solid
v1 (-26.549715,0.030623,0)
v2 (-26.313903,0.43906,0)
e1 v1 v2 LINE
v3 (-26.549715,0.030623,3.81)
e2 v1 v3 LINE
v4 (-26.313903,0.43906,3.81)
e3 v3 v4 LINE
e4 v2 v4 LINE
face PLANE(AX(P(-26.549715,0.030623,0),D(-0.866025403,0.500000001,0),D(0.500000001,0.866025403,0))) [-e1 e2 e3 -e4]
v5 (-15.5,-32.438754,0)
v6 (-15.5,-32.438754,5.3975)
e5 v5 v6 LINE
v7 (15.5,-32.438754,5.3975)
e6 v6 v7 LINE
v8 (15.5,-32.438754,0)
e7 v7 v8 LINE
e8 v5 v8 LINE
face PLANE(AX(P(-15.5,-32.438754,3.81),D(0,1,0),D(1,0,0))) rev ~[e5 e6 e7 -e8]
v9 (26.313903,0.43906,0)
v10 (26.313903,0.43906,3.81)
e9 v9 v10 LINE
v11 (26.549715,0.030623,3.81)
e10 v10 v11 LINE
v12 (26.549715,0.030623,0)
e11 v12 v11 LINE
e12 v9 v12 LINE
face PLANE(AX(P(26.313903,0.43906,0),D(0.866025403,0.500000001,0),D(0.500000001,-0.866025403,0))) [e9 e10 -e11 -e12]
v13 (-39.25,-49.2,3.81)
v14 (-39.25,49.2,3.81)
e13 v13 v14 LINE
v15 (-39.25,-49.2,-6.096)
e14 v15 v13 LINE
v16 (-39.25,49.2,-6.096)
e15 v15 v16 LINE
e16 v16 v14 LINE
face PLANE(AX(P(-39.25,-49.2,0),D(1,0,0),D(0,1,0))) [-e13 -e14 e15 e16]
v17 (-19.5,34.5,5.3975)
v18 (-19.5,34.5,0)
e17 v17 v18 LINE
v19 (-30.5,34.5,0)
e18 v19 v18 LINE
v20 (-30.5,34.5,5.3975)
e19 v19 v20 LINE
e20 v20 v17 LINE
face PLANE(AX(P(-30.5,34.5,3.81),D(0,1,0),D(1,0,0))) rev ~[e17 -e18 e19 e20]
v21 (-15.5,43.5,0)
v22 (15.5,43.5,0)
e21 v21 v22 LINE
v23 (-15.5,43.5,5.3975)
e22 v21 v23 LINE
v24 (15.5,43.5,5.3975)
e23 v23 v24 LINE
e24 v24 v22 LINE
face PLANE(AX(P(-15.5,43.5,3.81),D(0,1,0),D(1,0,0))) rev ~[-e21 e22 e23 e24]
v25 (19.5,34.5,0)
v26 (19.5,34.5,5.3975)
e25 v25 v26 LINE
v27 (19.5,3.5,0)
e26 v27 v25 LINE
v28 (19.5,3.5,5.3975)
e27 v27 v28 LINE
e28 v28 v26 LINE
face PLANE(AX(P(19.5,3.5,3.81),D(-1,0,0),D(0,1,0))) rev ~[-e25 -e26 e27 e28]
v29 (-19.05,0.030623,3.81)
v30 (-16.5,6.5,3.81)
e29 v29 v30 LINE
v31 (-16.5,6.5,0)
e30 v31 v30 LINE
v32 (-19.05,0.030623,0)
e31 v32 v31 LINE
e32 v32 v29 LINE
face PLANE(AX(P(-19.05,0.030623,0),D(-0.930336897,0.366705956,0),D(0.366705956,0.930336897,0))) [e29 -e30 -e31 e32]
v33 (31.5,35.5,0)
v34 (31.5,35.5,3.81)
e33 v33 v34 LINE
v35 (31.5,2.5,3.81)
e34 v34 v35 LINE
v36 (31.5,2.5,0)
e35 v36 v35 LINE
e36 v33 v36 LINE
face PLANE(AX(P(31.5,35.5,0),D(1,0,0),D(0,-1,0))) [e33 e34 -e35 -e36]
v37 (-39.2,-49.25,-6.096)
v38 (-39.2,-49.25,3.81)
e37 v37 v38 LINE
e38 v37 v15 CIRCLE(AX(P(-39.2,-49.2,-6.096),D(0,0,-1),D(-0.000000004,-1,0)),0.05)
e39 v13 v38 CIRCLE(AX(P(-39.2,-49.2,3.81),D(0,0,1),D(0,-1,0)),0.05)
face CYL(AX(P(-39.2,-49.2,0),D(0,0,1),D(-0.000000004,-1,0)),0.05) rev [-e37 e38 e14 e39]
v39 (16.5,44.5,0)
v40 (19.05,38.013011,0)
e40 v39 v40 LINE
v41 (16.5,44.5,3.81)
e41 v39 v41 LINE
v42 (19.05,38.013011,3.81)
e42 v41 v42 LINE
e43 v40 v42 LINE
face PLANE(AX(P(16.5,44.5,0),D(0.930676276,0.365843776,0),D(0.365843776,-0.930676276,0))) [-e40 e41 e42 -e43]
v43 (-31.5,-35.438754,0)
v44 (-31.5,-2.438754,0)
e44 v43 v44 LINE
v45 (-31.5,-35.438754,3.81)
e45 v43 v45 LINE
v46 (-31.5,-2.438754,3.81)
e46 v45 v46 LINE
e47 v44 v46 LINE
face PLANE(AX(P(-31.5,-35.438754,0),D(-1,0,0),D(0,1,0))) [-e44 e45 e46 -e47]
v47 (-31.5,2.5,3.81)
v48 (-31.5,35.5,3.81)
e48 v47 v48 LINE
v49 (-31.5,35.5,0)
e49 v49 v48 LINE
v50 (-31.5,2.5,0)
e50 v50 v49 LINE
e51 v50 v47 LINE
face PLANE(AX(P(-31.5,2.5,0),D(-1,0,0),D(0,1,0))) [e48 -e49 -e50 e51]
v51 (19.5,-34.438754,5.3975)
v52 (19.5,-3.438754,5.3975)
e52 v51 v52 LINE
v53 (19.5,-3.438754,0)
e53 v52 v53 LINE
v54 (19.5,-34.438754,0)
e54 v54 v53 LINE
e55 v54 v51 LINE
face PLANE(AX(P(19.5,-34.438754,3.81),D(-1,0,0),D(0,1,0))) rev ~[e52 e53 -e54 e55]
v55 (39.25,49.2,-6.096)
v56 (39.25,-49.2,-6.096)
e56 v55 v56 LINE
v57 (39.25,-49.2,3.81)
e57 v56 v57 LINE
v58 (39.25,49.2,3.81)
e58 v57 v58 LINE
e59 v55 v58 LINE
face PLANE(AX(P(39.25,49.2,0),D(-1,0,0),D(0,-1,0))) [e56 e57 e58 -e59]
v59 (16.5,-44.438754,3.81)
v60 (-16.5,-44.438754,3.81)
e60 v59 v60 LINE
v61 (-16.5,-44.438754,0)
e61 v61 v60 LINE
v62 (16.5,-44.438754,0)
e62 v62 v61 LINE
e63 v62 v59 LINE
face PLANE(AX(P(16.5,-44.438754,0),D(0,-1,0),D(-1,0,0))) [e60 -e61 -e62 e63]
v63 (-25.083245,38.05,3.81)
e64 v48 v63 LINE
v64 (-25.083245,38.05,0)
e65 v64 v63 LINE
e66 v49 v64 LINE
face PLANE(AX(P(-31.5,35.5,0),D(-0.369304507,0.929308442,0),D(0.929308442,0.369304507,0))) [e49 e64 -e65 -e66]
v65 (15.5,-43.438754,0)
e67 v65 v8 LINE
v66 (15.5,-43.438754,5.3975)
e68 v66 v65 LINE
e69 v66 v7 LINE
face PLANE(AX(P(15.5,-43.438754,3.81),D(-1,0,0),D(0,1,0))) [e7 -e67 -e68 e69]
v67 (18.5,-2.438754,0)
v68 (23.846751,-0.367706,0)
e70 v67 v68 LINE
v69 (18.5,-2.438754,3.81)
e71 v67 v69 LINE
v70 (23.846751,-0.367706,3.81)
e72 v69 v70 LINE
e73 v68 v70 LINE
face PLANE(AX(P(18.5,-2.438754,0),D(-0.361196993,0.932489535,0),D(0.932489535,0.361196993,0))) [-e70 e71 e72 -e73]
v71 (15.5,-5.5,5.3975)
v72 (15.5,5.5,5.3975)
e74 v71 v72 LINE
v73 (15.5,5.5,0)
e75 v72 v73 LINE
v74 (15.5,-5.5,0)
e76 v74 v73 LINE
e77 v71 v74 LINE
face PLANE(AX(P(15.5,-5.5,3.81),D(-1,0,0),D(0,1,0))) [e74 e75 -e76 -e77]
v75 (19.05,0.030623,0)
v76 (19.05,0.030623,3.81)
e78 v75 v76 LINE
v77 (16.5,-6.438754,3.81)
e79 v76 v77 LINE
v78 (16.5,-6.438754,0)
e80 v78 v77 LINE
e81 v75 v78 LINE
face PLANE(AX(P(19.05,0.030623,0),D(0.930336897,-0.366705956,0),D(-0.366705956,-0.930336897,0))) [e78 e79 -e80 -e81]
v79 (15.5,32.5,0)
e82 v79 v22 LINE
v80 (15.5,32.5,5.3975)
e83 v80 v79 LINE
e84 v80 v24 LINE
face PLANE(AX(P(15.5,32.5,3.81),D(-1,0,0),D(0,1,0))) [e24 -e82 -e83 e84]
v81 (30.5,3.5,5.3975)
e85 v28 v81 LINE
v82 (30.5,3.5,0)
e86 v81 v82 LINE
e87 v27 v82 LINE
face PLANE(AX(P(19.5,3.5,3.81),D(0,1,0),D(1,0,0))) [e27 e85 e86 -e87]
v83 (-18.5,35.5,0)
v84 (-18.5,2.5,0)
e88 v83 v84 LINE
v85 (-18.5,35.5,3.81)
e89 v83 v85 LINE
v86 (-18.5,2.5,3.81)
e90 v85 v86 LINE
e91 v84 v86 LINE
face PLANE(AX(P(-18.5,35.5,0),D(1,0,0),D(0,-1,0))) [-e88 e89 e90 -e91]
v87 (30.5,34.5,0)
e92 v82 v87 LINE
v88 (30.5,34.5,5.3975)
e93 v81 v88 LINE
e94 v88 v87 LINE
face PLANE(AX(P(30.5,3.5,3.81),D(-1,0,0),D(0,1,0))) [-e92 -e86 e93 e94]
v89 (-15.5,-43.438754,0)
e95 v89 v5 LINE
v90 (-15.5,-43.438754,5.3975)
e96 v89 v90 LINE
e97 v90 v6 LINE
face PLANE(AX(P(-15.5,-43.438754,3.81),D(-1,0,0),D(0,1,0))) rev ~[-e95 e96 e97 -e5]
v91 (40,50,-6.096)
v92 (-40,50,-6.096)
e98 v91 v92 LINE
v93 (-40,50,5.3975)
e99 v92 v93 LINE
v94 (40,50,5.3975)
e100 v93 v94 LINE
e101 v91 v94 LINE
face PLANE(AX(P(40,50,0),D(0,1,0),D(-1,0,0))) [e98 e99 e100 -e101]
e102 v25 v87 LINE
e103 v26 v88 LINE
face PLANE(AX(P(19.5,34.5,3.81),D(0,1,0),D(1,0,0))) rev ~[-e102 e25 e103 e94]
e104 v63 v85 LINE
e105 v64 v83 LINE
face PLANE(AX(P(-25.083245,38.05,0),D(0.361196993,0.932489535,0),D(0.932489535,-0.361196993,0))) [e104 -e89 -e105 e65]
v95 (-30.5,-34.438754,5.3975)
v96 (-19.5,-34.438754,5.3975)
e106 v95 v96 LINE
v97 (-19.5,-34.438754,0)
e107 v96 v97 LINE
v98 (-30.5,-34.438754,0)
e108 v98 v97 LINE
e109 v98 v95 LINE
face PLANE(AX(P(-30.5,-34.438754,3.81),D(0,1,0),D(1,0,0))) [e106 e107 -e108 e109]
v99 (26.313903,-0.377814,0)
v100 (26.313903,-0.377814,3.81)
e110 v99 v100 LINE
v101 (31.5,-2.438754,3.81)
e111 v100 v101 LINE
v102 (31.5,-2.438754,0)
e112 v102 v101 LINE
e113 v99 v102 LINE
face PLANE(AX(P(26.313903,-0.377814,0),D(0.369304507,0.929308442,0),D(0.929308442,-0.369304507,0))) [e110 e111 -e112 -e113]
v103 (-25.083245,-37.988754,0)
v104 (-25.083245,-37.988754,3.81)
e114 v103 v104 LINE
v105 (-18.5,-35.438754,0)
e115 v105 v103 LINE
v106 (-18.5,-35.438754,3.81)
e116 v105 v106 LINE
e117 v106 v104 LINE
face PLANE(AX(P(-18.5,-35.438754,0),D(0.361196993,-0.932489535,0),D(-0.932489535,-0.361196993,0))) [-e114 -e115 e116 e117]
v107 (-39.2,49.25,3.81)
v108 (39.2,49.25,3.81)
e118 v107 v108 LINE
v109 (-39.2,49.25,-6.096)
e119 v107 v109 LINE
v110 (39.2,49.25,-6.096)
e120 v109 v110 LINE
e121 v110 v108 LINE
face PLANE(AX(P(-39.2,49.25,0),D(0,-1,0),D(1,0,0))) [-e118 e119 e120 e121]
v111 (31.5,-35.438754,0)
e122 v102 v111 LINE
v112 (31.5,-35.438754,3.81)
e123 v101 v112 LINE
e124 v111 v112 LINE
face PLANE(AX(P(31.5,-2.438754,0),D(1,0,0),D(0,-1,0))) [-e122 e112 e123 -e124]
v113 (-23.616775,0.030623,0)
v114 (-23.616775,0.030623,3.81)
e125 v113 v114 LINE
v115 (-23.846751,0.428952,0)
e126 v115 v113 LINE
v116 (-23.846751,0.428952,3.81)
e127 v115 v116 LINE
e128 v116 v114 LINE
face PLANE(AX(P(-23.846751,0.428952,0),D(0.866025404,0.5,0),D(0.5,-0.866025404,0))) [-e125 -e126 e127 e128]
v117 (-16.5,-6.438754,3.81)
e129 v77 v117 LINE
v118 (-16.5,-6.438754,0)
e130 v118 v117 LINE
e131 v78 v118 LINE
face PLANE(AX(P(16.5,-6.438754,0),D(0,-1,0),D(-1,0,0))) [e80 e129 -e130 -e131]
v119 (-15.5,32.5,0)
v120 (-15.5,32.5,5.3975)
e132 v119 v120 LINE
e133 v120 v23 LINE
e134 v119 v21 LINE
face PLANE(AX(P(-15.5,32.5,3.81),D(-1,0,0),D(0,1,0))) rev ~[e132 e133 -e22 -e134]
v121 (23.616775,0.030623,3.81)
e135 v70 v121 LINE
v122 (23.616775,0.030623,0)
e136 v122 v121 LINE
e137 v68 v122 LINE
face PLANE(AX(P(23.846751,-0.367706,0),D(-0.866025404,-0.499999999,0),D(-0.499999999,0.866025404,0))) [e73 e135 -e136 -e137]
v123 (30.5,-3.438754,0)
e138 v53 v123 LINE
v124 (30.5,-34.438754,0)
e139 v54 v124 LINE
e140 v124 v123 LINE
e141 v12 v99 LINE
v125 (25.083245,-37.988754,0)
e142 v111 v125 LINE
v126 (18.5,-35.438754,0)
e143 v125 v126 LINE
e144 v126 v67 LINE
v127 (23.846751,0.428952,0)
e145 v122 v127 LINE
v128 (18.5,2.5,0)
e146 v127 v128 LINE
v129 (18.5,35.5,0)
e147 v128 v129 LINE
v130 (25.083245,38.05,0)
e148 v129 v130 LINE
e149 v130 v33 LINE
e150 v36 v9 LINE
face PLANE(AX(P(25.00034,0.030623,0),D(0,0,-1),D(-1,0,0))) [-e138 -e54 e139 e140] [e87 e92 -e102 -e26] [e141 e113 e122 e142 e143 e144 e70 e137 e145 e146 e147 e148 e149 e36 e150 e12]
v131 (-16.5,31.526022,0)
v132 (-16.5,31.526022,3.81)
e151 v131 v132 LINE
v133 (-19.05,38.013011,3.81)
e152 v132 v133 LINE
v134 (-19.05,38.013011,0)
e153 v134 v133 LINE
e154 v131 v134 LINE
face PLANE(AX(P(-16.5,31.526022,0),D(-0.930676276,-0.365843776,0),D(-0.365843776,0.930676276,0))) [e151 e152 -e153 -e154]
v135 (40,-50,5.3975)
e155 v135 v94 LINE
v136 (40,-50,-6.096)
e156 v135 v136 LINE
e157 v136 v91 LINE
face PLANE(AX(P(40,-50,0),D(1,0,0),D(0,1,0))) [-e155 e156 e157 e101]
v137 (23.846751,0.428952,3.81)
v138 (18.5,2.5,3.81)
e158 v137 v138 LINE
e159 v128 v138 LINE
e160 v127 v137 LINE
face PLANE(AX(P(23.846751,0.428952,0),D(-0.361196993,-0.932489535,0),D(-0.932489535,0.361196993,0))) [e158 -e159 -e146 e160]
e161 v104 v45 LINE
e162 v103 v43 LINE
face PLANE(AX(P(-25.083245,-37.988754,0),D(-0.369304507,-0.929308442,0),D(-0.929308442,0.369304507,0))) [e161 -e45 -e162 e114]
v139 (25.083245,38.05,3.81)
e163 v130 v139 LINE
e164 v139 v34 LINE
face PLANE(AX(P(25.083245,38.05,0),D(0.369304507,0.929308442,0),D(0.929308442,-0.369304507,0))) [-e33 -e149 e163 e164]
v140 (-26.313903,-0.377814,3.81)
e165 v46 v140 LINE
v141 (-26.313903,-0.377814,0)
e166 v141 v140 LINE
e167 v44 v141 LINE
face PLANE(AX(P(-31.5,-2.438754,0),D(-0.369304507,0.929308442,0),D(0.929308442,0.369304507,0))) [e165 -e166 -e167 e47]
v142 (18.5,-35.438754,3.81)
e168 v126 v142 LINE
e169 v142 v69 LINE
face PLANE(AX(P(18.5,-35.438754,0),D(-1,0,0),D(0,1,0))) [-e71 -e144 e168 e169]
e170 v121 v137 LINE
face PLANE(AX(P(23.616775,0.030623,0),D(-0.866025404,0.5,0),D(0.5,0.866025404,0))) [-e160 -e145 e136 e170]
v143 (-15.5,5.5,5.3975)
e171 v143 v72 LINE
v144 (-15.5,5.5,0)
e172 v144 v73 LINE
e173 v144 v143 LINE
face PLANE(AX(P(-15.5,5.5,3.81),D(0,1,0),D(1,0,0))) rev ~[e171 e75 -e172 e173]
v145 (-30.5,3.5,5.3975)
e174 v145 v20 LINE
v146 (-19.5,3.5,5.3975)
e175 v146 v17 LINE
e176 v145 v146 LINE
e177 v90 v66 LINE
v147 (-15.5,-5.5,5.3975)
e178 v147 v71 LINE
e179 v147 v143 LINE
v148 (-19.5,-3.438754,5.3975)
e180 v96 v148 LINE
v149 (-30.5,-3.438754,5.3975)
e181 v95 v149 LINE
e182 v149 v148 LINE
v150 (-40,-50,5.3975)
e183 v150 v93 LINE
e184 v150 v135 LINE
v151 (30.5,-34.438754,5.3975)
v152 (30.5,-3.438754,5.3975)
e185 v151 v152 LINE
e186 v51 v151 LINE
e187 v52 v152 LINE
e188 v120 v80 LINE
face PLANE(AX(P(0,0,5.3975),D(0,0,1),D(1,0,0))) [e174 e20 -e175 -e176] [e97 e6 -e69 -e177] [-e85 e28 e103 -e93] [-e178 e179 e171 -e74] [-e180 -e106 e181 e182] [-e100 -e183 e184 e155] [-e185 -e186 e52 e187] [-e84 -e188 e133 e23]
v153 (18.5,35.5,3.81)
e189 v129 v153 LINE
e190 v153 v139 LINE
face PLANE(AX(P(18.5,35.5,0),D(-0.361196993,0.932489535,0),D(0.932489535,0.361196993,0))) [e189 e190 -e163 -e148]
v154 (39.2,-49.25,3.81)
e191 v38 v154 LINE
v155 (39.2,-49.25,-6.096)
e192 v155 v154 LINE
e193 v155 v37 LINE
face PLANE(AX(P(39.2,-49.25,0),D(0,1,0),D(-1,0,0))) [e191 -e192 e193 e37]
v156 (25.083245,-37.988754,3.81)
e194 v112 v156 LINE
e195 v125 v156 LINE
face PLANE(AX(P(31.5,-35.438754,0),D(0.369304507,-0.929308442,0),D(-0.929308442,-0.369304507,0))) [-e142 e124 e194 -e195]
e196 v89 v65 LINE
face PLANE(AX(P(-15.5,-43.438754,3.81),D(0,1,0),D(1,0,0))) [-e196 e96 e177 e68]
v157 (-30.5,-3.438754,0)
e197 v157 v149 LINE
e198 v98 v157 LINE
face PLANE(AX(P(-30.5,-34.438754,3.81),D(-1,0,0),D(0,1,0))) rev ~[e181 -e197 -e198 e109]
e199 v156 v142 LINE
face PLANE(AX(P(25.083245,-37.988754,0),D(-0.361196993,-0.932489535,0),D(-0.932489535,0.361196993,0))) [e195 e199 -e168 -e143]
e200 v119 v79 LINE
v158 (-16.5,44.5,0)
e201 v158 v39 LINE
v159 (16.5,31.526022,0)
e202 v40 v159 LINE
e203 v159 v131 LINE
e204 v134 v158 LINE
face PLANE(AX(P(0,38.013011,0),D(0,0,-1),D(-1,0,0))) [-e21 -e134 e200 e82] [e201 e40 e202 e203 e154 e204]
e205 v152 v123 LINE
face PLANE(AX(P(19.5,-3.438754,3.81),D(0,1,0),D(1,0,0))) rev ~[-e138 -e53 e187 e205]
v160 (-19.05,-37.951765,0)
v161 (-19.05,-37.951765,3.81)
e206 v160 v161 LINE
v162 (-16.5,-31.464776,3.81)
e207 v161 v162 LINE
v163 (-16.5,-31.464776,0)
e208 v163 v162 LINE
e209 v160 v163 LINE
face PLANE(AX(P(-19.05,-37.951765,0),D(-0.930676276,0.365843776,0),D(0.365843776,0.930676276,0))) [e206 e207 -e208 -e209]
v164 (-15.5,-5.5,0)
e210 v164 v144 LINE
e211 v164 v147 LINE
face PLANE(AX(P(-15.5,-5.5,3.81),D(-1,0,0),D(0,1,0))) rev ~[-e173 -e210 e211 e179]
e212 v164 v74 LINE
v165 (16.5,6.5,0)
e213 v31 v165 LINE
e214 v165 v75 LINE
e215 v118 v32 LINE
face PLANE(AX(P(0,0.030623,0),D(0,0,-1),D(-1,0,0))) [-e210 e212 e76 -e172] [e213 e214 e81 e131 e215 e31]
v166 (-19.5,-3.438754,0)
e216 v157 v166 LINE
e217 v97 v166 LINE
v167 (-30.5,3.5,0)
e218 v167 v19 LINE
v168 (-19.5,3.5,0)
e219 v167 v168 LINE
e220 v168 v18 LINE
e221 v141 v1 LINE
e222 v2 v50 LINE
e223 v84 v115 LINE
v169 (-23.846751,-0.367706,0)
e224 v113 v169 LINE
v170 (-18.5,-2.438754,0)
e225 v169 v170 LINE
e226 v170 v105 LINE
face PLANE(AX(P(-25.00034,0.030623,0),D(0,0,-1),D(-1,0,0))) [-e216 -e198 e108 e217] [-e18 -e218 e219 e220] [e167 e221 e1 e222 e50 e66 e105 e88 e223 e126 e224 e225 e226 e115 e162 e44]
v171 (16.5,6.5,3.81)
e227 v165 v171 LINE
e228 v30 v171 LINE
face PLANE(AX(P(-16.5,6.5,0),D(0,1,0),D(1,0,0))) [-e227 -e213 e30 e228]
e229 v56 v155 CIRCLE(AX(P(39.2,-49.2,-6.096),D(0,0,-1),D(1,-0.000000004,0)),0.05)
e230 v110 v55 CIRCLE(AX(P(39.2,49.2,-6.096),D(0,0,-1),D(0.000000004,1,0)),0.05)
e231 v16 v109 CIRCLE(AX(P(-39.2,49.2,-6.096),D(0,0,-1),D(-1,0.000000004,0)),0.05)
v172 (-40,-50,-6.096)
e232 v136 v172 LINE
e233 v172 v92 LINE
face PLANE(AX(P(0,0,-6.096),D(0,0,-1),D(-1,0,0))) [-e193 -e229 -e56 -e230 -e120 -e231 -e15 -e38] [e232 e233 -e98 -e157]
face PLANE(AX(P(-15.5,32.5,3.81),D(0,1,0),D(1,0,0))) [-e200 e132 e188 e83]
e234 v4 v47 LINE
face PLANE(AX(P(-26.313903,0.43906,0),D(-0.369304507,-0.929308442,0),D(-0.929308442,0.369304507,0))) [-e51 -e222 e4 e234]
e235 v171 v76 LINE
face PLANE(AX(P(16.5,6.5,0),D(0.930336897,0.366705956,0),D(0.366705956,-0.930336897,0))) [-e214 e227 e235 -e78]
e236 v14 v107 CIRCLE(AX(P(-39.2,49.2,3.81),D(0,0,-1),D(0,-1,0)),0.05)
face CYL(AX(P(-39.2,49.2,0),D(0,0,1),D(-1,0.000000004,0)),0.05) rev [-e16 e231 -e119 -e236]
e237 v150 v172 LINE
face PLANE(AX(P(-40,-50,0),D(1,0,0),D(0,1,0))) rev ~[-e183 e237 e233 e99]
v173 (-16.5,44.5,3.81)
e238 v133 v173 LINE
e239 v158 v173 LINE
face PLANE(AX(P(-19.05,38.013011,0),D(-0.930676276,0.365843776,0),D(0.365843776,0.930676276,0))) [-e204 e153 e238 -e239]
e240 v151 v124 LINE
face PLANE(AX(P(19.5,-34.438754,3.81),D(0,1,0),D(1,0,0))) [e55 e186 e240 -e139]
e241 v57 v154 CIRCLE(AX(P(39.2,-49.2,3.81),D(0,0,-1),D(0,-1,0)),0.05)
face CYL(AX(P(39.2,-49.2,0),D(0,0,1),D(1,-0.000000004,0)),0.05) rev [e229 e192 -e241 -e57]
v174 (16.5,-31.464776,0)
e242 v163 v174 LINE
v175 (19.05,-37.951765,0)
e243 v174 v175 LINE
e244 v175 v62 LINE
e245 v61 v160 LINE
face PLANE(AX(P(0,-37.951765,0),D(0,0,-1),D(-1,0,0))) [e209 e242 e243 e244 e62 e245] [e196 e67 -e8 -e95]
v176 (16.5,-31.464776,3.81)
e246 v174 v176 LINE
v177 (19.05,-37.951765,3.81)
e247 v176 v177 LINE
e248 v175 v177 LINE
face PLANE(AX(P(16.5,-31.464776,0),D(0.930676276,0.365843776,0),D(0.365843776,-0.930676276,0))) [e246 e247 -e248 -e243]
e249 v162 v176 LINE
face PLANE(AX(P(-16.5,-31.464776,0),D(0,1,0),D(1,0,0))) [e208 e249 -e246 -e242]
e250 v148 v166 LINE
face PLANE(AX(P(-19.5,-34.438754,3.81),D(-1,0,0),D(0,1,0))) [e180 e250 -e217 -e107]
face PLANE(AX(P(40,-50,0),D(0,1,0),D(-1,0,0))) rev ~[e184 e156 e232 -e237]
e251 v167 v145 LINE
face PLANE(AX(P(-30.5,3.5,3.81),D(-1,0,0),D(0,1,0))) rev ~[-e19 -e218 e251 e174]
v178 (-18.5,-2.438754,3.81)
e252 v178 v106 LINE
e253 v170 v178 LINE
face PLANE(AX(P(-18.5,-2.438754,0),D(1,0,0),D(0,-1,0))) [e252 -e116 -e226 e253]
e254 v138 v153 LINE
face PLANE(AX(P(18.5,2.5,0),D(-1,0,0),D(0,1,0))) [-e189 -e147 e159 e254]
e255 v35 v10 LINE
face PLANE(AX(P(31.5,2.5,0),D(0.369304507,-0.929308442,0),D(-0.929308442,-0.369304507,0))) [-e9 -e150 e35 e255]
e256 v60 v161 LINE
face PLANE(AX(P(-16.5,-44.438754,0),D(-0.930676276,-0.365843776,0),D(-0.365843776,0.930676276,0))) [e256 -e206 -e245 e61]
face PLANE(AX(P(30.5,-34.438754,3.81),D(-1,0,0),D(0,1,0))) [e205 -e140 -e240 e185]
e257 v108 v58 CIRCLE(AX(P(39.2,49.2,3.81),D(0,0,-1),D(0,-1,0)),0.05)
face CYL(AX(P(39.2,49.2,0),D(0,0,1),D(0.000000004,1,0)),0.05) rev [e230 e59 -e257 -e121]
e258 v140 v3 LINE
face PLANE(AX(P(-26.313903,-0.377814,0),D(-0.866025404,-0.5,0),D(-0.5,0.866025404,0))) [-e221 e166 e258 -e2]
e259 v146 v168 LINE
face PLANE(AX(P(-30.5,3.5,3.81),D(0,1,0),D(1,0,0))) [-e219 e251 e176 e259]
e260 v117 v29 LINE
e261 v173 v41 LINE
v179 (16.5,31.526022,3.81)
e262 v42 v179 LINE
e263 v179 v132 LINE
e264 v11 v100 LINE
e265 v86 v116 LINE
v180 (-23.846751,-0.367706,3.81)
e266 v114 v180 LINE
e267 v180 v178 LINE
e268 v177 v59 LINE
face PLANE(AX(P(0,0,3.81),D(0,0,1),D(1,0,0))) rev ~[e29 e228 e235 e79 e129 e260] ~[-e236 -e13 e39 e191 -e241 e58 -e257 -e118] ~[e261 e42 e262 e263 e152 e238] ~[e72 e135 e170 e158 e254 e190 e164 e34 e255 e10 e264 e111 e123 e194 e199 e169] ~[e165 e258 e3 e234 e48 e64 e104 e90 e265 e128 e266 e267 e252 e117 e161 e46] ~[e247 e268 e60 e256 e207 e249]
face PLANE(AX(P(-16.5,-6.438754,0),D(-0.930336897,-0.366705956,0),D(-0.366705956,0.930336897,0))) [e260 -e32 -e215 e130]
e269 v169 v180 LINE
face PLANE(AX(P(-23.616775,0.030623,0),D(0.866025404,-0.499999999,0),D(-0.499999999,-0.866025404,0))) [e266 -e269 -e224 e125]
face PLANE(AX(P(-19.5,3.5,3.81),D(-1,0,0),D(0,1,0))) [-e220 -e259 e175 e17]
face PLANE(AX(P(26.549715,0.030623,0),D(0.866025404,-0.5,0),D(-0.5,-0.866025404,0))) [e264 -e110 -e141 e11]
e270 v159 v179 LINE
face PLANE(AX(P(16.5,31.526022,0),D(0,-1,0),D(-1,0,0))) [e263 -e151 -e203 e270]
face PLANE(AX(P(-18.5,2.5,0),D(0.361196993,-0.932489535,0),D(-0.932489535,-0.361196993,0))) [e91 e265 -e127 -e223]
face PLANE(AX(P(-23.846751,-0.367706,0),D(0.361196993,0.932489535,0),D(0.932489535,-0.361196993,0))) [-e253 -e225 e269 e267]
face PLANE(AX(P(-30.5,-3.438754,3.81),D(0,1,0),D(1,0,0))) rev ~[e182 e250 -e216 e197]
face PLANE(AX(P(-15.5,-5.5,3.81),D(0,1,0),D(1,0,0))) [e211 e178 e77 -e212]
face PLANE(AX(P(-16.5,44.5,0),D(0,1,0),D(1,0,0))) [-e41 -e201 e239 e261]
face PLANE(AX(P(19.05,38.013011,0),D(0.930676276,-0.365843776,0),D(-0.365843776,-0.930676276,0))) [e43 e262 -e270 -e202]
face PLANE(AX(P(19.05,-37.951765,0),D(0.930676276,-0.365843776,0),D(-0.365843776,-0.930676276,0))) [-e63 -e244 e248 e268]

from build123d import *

# Parameters (mm, degrees)
SKETCH1_W             = 11
SKETCH1_H             = 31
BOSS_EXTRUDE1_DEPTH   = 3.81
SKETCH1_W_2           = 31
SKETCH1_H_2           = 11
BOSS_EXTRUDE1_2_DEPTH = 3.81
BOSS_EXTRUDE1_3_DEPTH = 3.81
BOSS_EXTRUDE1_4_DEPTH = 3.81
BOSS_EXTRUDE1_5_DEPTH = 3.81
SKETCH1_W_3           = 80
SKETCH1_H_3           = 100
SKETCH1_W_4           = 78.5
SKETCH1_H_4           = 98.5
BOSS_EXTRUDE1_6_DEPTH = 3.81
SKETCH3_W             = 80
SKETCH3_H             = 100
SKETCH3_W_2           = 31
SKETCH3_H_2           = 11
SKETCH3_W_3           = 11
SKETCH3_H_3           = 31
BOSS_EXTRUDE2_DEPTH   = 1.5875
FILLET1_R             = 0.05
SKETCH9_W             = 80
SKETCH9_H             = 100
BOSS_EXTRUDE6_DEPTH   = 6.096


with BuildPart() as part:
    # Sketch1 → Boss-Extrude1 (new body)
    with BuildSketch(Plane.XY):
        Polygon((-26.313903431, 0.439060111), (-31.5, 2.5), (-31.5, 35.5), (-25.083245041, 38.05), (-18.5, 35.5), (-18.5, 2.5), (-23.846750882, 0.428952262), (-23.616775358, 0.03062297), (-23.846750882, -0.367706323), (-18.5, -2.438754061), (-18.5, -35.438754061), (-25.083245041, -37.988754061), (-31.5, -35.438754061), (-31.5, -2.438754061), (-26.313903431, -0.377814172), (-26.549714725, 0.03062297), align=None)
        with Locations((-25, -18.938754061)):
            Rectangle(SKETCH1_W, SKETCH1_H, mode=Mode.SUBTRACT)
        with Locations((-25, 19)):
            Rectangle(SKETCH1_W, SKETCH1_H, mode=Mode.SUBTRACT)
    extrude(amount=BOSS_EXTRUDE1_DEPTH)



with BuildPart() as body_2:
    # Sketch1 → Boss-Extrude1 2 (new body)
    with BuildSketch(Plane.XY):
        Polygon((-19.05, 0.03062297), (-16.5, 6.5), (16.5, 6.5), (19.05, 0.03062297), (16.5, -6.438754061), (-16.5, -6.438754061), align=None)
        Rectangle(SKETCH1_W_2, SKETCH1_H_2, mode=Mode.SUBTRACT)
    extrude(amount=BOSS_EXTRUDE1_2_DEPTH)


with BuildPart() as body_3:
    # Sketch1 → Boss-Extrude1 3 (new body)
    with BuildSketch(Plane.XY):
        Polygon((26.313903431, 0.439060111), (26.549714725, 0.03062297), (26.313903431, -0.377814172), (31.5, -2.438754061), (31.5, -35.438754061), (25.083245041, -37.988754061), (18.5, -35.438754061), (18.5, -2.438754061), (23.846750882, -0.367706323), (23.616775358, 0.03062297), (23.846750882, 0.428952262), (18.5, 2.5), (18.5, 35.5), (25.083245041, 38.05), (31.5, 35.5), (31.5, 2.5), align=None)
        with Locations((25, 19)):
            Rectangle(SKETCH1_W, SKETCH1_H, mode=Mode.SUBTRACT)
        with Locations((25, -18.938754061)):
            Rectangle(SKETCH1_W, SKETCH1_H, mode=Mode.SUBTRACT)
    extrude(amount=BOSS_EXTRUDE1_3_DEPTH)


with BuildPart() as body_4:
    # Sketch1 → Boss-Extrude1 4 (new body)
    with BuildSketch(Plane.XY):
        Polygon((-16.5, 31.52602227), (-19.05, 38.013011135), (-16.5, 44.5), (16.5, 44.5), (19.05, 38.013011135), (16.5, 31.52602227), align=None)
        with Locations((0, 38)):
            Rectangle(SKETCH1_W_2, SKETCH1_H_2, mode=Mode.SUBTRACT)
    extrude(amount=BOSS_EXTRUDE1_4_DEPTH)


with BuildPart() as body_5:
    # Sketch1 → Boss-Extrude1 5 (new body)
    with BuildSketch(Plane.XY):
        Polygon((16.5, -31.464776331), (19.05, -37.951765196), (16.5, -44.438754061), (-16.5, -44.438754061), (-19.05, -37.951765196), (-16.5, -31.464776331), align=None)
        with Locations((0, -37.938754061)):
            Rectangle(SKETCH1_W_2, SKETCH1_H_2, mode=Mode.SUBTRACT)
    extrude(amount=BOSS_EXTRUDE1_5_DEPTH)


with BuildPart() as body_6:
    # Sketch1 → Boss-Extrude1 6 (new body)
    with BuildSketch(Plane.XY):
        Rectangle(SKETCH1_W_3, SKETCH1_H_3)
        Rectangle(SKETCH1_W_4, SKETCH1_H_4, mode=Mode.SUBTRACT)
    extrude(amount=BOSS_EXTRUDE1_6_DEPTH)


with BuildPart() as part_1:
    add(part.part)

    add(body_2.part)  # Boss-Extrude2 merges body 2

    add(body_3.part)  # Boss-Extrude2 merges body 3

    add(body_4.part)  # Boss-Extrude2 merges body 4

    add(body_5.part)  # Boss-Extrude2 merges body 5

    add(body_6.part)  # Boss-Extrude2 merges body 6
    # Sketch3 → Boss-Extrude2 (add)
    with BuildSketch(Plane.XY.offset(3.81)):
        Rectangle(SKETCH3_W, SKETCH3_H)
        with Locations((0, -37.938754061)):
            Rectangle(SKETCH3_W_2, SKETCH3_H_2, mode=Mode.SUBTRACT)
        Rectangle(SKETCH3_W_2, SKETCH3_H_2, mode=Mode.SUBTRACT)
        with Locations((-25, -18.938754061)):
            Rectangle(SKETCH3_W_3, SKETCH3_H_3, mode=Mode.SUBTRACT)
        with Locations((-25, 19)):
            Rectangle(SKETCH3_W_3, SKETCH3_H_3, mode=Mode.SUBTRACT)
        with Locations((0, 38)):
            Rectangle(SKETCH3_W_2, SKETCH3_H_2, mode=Mode.SUBTRACT)
        with Locations((25, 19)):
            Rectangle(SKETCH3_W_3, SKETCH3_H_3, mode=Mode.SUBTRACT)
        with Locations((25, -18.938754061)):
            Rectangle(SKETCH3_W_3, SKETCH3_H_3, mode=Mode.SUBTRACT)
    extrude(amount=BOSS_EXTRUDE2_DEPTH)

    # Fillet1
    fillet1_edges = [part_1.edges().sort_by_distance(p)[0] for p in [
        (39.25, 49.25, 1.905),
        (39.25, -49.25, 1.905),
        (-39.25, -49.25, 1.905),
        (-39.25, 49.25, 1.905),
    ]]
    fillet(fillet1_edges, radius=FILLET1_R)

    # Sketch9 → Boss-Extrude6 (add)
    with BuildSketch(Plane(origin=(0, 0, 0), x_dir=(-1, 0, 0), z_dir=(0, 0, -1))):
        Rectangle(SKETCH9_W, SKETCH9_H)
        with BuildLine():
            Line((39.2, 49.25), (-39.2, 49.25))
            ThreePointArc((-39.2, 49.25), (-39.235355339, 49.235355339), (-39.25, 49.2))
            Line((-39.25, 49.2), (-39.25, -49.2))
            ThreePointArc((-39.25, -49.2), (-39.235355339, -49.235355339), (-39.2, -49.25))
            Line((-39.2, -49.25), (39.2, -49.25))
            ThreePointArc((39.2, -49.25), (39.235355339, -49.235355339), (39.25, -49.2))
            Line((39.25, -49.2), (39.25, 49.2))
            ThreePointArc((39.25, 49.2), (39.235355339, 49.235355339), (39.2, 49.25))
        make_face(mode=Mode.SUBTRACT)
    extrude(amount=BOSS_EXTRUDE6_DEPTH)


solid = part_1.part
